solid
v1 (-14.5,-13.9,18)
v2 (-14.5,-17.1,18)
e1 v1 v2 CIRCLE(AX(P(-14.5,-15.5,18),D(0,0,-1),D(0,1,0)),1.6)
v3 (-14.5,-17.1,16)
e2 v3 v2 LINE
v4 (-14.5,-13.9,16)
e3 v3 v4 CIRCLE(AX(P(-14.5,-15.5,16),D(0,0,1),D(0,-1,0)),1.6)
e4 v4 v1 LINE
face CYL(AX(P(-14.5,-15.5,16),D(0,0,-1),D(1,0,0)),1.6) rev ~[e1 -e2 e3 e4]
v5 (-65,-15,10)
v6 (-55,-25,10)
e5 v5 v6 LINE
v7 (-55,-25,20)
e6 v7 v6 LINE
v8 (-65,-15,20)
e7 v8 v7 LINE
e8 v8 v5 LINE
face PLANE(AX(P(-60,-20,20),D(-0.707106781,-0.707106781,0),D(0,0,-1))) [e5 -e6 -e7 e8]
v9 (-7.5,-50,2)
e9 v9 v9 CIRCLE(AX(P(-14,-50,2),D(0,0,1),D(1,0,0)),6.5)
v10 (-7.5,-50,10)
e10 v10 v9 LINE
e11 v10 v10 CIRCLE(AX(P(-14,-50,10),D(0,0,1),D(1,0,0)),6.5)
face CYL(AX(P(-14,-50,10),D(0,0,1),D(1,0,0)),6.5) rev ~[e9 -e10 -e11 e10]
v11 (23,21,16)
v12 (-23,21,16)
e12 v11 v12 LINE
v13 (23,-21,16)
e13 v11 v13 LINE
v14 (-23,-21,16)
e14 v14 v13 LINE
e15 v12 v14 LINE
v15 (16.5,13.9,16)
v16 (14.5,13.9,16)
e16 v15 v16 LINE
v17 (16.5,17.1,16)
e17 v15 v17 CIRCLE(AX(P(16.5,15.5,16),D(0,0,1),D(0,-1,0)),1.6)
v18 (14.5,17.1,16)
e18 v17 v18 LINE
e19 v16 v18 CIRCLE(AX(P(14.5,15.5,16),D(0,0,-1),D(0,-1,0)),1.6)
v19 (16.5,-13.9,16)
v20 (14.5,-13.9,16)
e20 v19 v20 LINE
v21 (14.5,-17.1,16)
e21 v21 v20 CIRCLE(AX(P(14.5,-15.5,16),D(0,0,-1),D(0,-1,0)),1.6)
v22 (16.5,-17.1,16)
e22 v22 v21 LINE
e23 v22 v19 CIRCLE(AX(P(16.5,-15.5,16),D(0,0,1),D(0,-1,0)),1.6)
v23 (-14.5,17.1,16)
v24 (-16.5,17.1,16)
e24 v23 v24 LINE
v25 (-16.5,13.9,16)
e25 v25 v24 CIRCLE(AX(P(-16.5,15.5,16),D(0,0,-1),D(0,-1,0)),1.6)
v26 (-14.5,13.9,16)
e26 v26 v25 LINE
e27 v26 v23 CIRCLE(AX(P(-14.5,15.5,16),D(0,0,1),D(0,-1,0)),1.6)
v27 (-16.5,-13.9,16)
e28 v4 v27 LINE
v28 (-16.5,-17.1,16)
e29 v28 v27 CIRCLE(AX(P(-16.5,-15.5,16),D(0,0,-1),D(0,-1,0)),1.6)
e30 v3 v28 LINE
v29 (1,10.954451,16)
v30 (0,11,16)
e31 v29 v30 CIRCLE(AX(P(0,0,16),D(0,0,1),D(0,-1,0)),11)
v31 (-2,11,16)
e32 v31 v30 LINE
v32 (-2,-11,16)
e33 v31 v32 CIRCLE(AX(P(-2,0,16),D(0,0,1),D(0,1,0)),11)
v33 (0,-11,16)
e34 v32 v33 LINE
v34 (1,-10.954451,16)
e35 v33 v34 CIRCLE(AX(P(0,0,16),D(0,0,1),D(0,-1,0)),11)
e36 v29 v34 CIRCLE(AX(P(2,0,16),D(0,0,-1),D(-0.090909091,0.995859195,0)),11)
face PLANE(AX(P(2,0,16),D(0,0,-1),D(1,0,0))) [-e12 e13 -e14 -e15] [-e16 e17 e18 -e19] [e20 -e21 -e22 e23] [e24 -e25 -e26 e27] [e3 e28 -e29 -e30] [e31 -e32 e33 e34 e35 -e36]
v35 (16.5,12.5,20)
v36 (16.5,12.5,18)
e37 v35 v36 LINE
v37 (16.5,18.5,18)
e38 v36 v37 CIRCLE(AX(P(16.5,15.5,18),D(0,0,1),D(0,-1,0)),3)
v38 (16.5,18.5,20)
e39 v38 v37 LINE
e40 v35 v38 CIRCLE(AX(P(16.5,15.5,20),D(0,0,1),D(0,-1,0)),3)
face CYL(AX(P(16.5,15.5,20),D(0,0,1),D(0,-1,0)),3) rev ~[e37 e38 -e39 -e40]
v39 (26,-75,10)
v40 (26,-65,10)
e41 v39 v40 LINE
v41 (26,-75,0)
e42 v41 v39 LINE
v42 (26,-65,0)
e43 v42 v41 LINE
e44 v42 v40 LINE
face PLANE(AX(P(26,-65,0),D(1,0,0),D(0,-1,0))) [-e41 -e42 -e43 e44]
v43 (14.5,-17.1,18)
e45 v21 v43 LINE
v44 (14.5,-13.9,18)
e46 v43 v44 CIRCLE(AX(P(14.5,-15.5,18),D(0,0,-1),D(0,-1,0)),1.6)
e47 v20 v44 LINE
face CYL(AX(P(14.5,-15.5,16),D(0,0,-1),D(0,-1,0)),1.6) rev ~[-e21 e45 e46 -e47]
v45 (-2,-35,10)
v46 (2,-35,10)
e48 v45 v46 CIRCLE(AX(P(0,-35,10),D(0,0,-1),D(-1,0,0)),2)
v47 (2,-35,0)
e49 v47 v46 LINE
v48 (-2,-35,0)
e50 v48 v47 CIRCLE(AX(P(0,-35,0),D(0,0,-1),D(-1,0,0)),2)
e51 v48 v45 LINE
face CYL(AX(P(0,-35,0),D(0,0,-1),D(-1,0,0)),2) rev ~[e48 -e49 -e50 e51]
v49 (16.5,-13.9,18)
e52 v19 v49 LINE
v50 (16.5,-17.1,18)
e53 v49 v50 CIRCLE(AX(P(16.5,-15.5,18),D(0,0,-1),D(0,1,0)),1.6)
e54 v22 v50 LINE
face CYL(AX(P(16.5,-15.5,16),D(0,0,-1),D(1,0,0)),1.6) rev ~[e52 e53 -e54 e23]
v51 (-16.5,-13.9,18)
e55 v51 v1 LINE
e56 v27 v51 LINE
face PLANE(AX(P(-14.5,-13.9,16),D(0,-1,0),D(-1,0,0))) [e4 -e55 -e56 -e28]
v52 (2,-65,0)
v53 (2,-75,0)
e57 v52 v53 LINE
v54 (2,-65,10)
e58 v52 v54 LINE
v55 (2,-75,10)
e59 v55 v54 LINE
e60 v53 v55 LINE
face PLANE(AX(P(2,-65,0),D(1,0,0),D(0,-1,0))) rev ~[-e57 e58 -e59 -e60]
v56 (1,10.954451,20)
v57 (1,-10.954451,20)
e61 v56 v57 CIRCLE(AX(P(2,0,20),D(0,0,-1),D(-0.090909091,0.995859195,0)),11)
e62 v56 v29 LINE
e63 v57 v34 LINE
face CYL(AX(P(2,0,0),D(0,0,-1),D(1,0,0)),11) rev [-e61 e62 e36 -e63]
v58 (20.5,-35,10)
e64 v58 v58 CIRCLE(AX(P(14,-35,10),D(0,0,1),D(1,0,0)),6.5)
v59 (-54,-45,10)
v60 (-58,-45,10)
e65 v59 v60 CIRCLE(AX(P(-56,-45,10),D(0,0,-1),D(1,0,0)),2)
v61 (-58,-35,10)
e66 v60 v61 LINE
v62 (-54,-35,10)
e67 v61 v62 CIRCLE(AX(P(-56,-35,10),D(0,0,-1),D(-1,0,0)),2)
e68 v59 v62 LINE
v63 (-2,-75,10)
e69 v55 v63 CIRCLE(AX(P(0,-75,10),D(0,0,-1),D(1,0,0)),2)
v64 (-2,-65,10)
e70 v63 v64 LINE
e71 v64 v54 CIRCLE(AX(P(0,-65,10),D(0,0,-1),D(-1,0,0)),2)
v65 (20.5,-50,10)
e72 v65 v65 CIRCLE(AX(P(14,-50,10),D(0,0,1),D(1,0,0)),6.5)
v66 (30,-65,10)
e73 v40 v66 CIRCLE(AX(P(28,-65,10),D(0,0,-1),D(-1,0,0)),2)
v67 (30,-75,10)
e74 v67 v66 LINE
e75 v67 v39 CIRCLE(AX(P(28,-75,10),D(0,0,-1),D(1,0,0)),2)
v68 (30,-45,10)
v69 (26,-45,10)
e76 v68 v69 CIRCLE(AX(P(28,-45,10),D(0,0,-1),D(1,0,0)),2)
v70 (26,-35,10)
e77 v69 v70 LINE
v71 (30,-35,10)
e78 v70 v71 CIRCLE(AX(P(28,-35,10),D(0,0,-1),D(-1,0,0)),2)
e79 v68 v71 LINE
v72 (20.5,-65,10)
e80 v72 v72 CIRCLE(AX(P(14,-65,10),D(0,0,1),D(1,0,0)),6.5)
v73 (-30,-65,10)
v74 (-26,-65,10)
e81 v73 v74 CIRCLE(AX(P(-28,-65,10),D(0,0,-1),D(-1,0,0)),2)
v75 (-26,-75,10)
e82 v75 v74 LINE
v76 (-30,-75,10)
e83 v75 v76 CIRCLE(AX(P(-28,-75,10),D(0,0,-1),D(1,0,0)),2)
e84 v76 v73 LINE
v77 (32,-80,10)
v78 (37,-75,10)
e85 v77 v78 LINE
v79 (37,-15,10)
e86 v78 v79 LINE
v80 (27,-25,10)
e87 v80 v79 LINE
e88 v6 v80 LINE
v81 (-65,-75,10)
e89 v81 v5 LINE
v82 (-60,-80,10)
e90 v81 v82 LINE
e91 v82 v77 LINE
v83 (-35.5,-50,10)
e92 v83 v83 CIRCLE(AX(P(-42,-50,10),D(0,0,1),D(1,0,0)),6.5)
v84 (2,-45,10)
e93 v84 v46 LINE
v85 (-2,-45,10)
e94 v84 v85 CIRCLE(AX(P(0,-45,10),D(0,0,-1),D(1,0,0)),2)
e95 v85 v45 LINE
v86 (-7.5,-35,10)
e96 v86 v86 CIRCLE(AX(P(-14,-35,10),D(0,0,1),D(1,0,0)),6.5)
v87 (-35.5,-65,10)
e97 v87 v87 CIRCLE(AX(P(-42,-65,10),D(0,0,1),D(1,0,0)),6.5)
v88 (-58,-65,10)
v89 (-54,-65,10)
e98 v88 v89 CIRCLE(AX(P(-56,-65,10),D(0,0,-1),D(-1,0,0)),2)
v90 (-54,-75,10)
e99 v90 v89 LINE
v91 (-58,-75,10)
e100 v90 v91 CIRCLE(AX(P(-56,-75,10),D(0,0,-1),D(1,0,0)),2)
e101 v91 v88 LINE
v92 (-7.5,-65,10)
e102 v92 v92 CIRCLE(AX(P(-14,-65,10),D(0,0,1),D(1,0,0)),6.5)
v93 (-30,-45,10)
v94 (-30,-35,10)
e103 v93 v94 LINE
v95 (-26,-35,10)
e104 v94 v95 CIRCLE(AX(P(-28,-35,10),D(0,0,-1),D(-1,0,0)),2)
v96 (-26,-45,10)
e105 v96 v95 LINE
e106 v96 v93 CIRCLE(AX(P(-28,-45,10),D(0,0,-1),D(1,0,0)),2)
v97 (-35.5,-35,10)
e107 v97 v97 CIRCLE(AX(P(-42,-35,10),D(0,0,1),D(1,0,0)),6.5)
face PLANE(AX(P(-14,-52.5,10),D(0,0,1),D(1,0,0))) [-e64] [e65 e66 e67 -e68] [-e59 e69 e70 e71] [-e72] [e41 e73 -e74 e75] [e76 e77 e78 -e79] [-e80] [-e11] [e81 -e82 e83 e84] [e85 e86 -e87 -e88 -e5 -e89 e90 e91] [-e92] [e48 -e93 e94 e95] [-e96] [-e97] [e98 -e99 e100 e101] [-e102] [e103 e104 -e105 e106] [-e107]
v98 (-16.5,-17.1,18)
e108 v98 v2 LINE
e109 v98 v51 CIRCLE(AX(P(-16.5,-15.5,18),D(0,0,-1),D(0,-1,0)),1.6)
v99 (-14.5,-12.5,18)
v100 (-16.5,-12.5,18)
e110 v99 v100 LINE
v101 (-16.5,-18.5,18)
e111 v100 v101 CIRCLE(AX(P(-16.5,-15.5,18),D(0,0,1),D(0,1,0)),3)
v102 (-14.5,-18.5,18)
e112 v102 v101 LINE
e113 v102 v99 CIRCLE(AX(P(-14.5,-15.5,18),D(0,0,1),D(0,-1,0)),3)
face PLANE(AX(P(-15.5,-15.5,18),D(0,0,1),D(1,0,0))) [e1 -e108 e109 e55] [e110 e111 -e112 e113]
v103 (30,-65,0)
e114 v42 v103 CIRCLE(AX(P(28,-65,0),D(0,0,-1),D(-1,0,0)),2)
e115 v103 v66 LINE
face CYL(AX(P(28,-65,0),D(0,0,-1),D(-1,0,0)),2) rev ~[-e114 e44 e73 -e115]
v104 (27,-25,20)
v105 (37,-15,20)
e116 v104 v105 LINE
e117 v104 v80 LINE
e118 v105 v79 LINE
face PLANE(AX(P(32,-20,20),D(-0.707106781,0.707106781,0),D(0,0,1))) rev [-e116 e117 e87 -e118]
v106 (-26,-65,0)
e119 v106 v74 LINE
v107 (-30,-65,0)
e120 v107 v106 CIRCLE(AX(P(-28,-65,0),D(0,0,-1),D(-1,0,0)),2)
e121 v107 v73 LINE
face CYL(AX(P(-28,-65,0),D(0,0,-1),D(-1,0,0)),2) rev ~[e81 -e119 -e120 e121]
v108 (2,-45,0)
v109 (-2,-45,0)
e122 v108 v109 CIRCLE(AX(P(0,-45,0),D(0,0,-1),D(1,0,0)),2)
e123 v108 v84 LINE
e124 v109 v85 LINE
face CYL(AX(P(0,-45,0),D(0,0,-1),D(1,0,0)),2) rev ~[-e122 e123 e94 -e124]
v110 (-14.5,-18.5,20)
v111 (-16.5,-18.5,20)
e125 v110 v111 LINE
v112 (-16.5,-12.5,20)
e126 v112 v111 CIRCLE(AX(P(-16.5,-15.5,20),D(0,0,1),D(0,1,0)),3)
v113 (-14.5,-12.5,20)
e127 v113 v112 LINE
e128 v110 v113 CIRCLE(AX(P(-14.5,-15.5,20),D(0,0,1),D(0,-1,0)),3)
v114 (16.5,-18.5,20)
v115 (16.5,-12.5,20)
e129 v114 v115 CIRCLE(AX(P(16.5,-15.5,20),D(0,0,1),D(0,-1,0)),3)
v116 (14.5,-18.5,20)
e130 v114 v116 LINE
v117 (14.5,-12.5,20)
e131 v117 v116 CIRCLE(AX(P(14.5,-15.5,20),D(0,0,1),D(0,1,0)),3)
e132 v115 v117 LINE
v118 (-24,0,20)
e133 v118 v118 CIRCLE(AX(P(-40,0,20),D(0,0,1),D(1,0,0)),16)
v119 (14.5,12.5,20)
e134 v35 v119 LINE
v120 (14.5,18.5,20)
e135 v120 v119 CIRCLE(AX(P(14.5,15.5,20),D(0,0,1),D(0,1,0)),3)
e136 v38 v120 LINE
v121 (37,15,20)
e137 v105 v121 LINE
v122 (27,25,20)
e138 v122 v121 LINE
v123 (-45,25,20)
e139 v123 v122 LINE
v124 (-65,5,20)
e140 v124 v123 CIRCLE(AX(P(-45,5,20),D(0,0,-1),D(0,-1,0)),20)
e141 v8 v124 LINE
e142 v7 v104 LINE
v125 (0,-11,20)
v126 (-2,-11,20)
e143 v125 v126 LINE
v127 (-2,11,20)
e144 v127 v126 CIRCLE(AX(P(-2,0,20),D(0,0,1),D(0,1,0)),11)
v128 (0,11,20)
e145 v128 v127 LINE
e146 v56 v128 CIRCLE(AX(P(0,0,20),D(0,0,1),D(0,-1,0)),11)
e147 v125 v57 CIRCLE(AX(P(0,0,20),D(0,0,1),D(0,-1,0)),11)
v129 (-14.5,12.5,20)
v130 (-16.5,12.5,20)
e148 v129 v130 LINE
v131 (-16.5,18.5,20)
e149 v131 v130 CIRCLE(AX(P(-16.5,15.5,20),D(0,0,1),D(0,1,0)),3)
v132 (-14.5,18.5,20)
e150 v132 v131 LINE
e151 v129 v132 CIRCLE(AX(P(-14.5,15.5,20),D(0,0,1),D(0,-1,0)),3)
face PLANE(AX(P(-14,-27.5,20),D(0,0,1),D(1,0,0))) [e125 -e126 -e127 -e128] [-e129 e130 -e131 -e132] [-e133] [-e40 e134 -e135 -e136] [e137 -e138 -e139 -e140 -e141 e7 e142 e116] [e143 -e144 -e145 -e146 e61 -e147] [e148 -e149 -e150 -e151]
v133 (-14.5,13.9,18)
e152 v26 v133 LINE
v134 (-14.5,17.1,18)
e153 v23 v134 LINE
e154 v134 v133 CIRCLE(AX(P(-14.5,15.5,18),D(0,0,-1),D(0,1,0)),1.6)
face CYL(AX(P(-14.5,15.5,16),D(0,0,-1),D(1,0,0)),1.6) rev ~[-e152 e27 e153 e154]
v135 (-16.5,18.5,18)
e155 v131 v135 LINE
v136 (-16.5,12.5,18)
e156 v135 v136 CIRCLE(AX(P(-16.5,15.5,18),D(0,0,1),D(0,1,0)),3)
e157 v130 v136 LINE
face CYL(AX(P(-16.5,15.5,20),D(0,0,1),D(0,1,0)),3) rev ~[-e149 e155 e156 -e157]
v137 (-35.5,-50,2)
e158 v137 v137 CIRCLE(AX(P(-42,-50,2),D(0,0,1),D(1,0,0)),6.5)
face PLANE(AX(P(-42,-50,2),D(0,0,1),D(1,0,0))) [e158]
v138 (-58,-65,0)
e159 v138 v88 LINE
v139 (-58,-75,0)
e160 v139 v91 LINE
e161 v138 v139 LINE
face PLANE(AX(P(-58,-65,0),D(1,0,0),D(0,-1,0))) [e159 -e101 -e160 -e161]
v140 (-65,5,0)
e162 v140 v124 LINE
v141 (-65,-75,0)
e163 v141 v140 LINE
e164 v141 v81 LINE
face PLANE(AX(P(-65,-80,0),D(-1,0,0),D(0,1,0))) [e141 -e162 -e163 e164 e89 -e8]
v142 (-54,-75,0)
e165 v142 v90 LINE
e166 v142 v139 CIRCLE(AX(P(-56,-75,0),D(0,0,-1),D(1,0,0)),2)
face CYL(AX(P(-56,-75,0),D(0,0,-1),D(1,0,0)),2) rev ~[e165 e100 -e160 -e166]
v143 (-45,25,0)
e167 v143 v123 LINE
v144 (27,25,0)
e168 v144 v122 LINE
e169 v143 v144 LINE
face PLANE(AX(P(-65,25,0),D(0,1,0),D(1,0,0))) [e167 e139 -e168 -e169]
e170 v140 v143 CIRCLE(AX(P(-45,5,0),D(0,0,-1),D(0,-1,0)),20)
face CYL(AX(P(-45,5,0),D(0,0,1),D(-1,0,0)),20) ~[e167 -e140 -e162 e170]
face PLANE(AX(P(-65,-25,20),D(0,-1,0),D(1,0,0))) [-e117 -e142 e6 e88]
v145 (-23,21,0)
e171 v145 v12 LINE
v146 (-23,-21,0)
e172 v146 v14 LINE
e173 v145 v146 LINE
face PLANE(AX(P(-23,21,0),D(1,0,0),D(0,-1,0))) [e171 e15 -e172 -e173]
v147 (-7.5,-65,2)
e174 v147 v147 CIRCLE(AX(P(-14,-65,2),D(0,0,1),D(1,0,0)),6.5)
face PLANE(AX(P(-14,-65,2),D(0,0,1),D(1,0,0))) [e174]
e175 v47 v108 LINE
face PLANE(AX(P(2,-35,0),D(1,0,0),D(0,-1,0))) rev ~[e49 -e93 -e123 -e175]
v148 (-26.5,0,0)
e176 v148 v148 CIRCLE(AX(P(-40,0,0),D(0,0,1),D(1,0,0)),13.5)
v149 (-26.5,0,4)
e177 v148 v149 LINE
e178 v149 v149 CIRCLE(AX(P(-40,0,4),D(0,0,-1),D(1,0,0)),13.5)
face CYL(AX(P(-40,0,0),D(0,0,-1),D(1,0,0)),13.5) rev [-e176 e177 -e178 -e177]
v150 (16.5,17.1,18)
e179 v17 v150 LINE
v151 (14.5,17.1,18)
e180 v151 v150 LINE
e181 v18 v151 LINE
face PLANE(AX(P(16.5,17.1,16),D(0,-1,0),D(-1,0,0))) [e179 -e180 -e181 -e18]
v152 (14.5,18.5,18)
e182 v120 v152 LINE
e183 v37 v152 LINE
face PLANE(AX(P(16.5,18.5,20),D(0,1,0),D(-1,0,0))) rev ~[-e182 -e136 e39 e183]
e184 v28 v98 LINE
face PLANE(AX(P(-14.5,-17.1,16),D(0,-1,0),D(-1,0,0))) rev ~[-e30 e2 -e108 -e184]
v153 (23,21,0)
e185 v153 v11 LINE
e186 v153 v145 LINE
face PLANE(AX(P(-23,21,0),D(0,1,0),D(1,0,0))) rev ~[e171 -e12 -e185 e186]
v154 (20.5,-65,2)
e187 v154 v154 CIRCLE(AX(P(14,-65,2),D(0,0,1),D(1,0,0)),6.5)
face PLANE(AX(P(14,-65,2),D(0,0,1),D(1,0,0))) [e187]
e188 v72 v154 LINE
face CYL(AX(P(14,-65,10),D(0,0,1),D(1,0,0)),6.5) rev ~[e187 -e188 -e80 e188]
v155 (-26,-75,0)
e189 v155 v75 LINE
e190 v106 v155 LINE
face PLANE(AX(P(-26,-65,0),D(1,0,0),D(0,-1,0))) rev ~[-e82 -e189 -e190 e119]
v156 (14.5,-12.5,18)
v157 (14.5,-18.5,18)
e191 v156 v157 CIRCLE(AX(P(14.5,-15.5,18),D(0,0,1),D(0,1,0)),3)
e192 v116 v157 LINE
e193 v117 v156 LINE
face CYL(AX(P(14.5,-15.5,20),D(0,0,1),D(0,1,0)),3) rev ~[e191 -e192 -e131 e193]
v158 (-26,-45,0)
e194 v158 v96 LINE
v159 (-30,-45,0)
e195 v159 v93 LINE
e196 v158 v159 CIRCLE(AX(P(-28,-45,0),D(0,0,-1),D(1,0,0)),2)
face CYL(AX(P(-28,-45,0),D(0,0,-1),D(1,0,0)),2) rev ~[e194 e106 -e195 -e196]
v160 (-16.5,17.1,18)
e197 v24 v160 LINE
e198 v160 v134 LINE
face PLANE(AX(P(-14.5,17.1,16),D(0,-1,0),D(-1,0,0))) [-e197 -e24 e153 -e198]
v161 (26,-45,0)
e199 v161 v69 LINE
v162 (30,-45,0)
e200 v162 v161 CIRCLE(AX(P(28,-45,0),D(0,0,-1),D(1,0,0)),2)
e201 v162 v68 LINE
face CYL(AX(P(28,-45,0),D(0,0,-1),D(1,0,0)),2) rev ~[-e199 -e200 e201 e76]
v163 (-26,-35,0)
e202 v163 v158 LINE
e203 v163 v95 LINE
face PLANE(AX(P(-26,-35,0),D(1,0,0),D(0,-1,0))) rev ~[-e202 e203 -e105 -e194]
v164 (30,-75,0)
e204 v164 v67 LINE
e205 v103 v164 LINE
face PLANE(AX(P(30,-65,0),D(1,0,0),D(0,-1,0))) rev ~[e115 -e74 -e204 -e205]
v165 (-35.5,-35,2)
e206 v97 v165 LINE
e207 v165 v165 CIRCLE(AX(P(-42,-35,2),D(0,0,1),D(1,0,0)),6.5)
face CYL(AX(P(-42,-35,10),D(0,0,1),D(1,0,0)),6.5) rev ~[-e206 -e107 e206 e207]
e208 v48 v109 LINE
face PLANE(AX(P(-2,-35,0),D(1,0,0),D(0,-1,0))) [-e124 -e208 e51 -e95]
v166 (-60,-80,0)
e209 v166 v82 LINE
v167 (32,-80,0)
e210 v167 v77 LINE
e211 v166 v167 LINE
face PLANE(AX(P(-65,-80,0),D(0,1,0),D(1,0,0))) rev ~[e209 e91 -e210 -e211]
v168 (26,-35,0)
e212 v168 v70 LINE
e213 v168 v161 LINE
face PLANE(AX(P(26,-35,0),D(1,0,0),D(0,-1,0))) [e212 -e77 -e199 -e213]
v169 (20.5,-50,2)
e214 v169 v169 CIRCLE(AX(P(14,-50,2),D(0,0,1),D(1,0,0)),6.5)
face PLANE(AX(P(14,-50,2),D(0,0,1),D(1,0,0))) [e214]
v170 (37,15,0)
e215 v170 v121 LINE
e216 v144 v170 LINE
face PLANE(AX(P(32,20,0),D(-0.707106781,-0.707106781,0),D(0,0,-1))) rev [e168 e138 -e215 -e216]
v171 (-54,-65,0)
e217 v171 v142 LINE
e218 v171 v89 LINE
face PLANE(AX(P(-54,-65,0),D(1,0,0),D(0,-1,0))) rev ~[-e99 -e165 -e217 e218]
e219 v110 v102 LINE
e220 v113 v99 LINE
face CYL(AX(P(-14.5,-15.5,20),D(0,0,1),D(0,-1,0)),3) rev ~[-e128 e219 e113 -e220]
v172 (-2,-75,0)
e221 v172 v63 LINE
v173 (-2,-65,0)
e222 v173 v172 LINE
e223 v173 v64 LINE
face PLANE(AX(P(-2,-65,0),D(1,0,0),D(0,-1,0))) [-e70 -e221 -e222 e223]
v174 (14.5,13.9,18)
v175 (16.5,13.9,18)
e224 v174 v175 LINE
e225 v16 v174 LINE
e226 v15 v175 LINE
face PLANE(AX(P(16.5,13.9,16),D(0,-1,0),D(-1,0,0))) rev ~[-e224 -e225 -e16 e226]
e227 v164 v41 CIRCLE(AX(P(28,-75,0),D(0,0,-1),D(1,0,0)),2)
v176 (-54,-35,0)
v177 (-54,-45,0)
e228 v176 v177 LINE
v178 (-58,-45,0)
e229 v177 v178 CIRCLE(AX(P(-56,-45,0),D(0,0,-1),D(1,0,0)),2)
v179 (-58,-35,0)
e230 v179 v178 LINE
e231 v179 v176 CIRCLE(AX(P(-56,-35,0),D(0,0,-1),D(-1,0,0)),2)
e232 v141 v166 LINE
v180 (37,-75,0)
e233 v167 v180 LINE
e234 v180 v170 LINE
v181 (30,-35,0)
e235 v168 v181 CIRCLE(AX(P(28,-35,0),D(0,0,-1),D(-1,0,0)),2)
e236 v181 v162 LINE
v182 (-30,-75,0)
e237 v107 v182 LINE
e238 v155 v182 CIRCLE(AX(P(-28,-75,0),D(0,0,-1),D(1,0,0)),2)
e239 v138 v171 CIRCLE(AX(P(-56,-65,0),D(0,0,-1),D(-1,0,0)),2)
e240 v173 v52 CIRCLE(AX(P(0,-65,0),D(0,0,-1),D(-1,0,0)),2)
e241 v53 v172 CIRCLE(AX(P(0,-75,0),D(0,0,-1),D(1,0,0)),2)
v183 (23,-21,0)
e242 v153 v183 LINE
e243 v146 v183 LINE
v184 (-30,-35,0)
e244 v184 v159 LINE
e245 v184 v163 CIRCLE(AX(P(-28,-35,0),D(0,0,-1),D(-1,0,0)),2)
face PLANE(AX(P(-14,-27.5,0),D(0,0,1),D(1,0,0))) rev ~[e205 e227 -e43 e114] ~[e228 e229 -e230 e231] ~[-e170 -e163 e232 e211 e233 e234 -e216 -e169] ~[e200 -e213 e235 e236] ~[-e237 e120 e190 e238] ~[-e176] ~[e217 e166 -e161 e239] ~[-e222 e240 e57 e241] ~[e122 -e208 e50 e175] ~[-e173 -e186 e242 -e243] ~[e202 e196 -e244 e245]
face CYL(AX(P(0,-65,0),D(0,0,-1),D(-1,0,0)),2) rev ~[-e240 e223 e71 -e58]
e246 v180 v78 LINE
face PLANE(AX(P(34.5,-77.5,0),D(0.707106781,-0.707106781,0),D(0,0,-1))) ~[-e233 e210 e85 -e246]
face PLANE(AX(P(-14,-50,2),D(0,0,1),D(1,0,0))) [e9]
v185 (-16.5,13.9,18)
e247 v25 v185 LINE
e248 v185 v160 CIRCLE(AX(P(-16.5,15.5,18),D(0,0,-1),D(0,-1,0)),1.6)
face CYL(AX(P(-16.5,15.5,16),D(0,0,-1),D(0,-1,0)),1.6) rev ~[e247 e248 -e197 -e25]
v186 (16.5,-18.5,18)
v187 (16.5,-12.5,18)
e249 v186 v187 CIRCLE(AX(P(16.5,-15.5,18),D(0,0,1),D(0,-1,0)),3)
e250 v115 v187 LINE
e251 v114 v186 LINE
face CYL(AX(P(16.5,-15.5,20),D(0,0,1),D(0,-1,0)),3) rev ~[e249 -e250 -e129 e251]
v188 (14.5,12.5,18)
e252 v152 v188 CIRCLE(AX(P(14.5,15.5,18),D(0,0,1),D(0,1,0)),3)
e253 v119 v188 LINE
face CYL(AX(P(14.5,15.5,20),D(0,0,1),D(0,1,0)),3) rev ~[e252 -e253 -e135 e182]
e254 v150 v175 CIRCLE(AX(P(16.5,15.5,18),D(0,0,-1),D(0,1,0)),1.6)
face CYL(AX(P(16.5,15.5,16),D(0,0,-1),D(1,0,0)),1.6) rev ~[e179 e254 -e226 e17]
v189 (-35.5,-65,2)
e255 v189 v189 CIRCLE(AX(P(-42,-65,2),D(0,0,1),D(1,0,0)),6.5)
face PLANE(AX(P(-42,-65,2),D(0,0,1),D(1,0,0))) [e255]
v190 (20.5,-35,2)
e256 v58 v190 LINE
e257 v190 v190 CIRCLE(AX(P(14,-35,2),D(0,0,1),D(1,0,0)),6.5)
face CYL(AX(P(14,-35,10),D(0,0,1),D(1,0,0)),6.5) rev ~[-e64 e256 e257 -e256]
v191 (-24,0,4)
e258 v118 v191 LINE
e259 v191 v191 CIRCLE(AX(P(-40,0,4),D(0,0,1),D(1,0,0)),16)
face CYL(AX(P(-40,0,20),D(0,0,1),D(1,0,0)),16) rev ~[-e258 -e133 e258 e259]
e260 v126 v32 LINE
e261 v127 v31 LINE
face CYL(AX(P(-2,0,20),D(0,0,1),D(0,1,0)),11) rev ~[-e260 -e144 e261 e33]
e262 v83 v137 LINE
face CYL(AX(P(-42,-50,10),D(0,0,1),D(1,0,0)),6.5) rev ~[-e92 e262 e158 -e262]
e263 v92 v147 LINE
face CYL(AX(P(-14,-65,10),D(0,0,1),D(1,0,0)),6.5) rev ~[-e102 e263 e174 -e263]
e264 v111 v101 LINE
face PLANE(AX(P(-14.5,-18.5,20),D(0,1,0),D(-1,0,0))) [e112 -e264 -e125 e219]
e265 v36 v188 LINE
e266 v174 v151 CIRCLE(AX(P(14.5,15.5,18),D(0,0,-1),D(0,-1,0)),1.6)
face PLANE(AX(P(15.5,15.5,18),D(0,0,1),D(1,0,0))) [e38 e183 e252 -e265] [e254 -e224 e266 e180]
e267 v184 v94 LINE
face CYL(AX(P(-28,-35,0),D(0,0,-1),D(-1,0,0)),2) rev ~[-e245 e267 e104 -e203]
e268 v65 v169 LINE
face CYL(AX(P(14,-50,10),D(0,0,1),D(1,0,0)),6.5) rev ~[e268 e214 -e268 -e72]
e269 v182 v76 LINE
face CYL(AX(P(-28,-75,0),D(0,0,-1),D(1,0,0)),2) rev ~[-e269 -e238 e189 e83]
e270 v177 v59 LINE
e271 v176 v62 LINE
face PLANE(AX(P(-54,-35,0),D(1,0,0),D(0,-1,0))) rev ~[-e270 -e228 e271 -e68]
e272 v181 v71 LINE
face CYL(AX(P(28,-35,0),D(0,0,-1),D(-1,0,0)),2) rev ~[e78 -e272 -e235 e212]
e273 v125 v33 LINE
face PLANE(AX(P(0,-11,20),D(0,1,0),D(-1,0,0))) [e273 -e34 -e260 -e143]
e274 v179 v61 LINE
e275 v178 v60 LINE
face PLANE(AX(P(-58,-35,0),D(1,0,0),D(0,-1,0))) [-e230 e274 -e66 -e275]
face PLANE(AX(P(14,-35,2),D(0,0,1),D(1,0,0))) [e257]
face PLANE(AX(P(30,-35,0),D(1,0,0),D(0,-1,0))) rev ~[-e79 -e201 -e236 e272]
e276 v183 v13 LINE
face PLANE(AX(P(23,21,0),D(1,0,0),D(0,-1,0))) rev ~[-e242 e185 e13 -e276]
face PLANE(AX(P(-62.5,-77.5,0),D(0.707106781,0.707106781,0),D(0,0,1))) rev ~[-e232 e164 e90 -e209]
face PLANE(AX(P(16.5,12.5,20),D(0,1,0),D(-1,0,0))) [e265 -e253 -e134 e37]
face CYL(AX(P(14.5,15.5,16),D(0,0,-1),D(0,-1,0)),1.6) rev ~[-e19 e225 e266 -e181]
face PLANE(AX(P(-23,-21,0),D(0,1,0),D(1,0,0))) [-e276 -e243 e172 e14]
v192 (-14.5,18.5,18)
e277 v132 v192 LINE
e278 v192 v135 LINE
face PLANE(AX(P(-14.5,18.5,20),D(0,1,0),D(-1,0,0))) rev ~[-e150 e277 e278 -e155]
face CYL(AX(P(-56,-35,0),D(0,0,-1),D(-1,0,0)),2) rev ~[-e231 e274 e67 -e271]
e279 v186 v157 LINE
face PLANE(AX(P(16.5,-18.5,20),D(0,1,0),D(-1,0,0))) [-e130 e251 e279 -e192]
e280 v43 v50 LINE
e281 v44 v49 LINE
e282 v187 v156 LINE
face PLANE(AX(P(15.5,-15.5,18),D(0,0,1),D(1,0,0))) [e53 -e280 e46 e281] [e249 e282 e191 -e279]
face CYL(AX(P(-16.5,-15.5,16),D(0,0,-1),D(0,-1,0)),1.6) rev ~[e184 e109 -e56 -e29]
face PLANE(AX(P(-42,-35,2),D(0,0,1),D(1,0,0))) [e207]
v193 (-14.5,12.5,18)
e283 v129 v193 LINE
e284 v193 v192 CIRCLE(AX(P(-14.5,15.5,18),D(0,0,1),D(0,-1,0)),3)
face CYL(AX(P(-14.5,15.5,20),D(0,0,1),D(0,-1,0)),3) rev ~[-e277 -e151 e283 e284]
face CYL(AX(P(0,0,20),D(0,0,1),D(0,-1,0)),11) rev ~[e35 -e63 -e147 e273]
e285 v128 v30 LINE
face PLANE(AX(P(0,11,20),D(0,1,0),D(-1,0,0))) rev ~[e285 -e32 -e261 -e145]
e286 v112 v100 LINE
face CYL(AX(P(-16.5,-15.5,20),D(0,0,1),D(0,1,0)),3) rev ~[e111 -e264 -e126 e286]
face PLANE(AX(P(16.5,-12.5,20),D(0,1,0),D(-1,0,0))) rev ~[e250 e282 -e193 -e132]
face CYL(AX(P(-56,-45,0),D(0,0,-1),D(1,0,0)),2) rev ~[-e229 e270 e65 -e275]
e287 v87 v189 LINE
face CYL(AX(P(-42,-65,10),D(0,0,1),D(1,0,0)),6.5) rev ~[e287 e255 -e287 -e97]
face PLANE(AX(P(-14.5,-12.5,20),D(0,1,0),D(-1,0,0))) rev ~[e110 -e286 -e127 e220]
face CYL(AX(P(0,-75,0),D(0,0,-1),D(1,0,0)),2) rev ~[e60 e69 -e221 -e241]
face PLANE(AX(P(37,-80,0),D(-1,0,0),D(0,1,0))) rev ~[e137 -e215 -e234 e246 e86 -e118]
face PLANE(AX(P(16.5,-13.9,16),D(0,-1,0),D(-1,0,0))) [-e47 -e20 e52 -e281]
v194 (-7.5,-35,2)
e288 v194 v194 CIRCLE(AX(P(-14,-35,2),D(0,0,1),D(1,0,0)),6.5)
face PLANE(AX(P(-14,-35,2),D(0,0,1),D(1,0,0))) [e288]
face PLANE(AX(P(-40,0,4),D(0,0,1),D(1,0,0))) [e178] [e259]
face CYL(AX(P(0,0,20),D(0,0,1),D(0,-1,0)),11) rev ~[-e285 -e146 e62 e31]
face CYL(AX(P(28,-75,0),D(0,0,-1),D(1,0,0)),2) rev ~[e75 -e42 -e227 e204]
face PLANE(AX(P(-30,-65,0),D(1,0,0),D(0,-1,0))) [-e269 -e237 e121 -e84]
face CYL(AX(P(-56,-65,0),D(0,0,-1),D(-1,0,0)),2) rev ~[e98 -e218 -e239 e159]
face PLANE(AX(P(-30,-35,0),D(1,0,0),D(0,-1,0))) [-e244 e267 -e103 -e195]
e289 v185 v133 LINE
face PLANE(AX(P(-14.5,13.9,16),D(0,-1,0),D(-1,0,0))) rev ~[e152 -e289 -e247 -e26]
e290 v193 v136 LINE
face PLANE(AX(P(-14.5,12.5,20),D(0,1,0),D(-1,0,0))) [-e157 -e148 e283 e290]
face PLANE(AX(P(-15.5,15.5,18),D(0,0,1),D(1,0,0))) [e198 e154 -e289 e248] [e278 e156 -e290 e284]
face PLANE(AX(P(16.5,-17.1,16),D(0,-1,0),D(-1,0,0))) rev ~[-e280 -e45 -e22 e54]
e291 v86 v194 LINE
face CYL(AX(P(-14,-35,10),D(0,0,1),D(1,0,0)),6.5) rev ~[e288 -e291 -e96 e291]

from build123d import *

# Parameters (mm, degrees)
SKETCH_W                           = 102
SKETCH_H                           = 105
SKETCH_R                           = 11
SKETCH_R_2                         = 13.5
PAD_DEPTH                          = 20
SKETCH001_W                        = 102
SKETCH001_H                        = 55
POCKET_DEPTH                       = 10
SKETCH002_W                        = 42
SKETCH002_H                        = 42
POCKET001_DEPTH                    = 16
POCKET002_DEPTH                    = 315.493809
POCKET002_LINEARPATTERN_2_DEPTH    = 315.493809
POCKET002_LINEARPATTERN_3_DEPTH    = 315.493809
POCKET002_LINEARPATTERN_4_DEPTH    = 315.493809
LINEARPATTERN001_COUNT             = 2
LINEARPATTERN001_PITCH             = 30
SKETCH004_R                        = 1.6
POCKET003_DEPTH                    = 4.001
CHAMFER_SIZE                       = 5
CHAMFER001_SIZE                    = 10
FILLET_R                           = 20
SKETCH006_R                        = 16
POCKET004_DEPTH                    = 16
SKETCH007_R                        = 3
POCKET005_DEPTH                    = 2
POCKET006_DEPTH                    = 4.001
SKETCH009_W                        = 4
SKETCH009_H                        = 42
POCKET007_DEPTH                    = 16
POCKET008_DEPTH                    = 2
POCKET009_DEPTH                    = 20.001
SKETCH012_R                        = 6.5
POCKET010_DEPTH                    = 8
SKETCH012_LINEARPATTERN002_2_R     = 6.5
POCKET010_LINEARPATTERN002_2_DEPTH = 8
SKETCH012_LINEARPATTERN002_3_R     = 6.5
POCKET010_LINEARPATTERN002_3_DEPTH = 8
LINEARPATTERN003_COUNT             = 3
LINEARPATTERN003_PITCH             = 15


with BuildPart() as part:
    # Sketch → Pad (new body)
    with BuildSketch(Plane.XY):
        with Locations((-14, -27.5)):
            Rectangle(SKETCH_W, SKETCH_H)
        with Locations((2, 0)):
            Circle(SKETCH_R, mode=Mode.SUBTRACT)
        with Locations((-40, 0)):
            Circle(SKETCH_R_2, mode=Mode.SUBTRACT)
    extrude(amount=PAD_DEPTH)

    # Sketch001 (on Face8 of Pad) → Pocket (cut)
    with BuildSketch(Plane.XY.offset(20)):
        with Locations((-14, -52.5)):
            Rectangle(SKETCH001_W, SKETCH001_H)
    extrude(amount=-POCKET_DEPTH, mode=Mode.SUBTRACT)

    # Sketch002 (on Face2 of Pocket) → Pocket001 (cut)
    with BuildSketch(Plane(origin=(0, 0, 0), x_dir=(1, 0, 0), z_dir=(0, 0, -1))):
        with Locations((2, 0)):
            Rectangle(SKETCH002_W, SKETCH002_H)
    extrude(amount=-POCKET001_DEPTH, mode=Mode.SUBTRACT)

    # Sketch003 (on Face2 of Pocket001) → Pocket002 (cut, through all)
    with BuildSketch(Plane(origin=(0, 0, 0), x_dir=(1, 0, 0), z_dir=(0, 0, -1))):
        with BuildLine():
            ThreePointArc((26, 35), (28, 33), (30, 35))
            Line((30, 35), (30, 45))
            ThreePointArc((30, 45), (28, 47), (26, 45))
            Line((26, 35), (26, 45))
        make_face()
    pocket002 = extrude(amount=-POCKET002_DEPTH, mode=Mode.SUBTRACT)

    # Sketch003 LinearPattern 2 → Pocket002 LinearPattern 2 (cut, through all)
    with BuildSketch(Plane(origin=(-28, 0, 0), x_dir=(1, 0, 0), z_dir=(0, 0, -1))):
        with BuildLine():
            ThreePointArc((26, 35), (28, 33), (30, 35))
            Line((30, 35), (30, 45))
            ThreePointArc((30, 45), (28, 47), (26, 45))
            Line((26, 35), (26, 45))
        make_face()
    pocket002_linearpattern_2 = extrude(amount=-POCKET002_LINEARPATTERN_2_DEPTH, mode=Mode.SUBTRACT)

    # Sketch003 LinearPattern 3 → Pocket002 LinearPattern 3 (cut, through all)
    with BuildSketch(Plane(origin=(-56, 0, 0), x_dir=(1, 0, 0), z_dir=(0, 0, -1))):
        with BuildLine():
            ThreePointArc((26, 35), (28, 33), (30, 35))
            Line((30, 35), (30, 45))
            ThreePointArc((30, 45), (28, 47), (26, 45))
            Line((26, 35), (26, 45))
        make_face()
    pocket002_linearpattern_3 = extrude(amount=-POCKET002_LINEARPATTERN_3_DEPTH, mode=Mode.SUBTRACT)

    # Sketch003 LinearPattern 4 → Pocket002 LinearPattern 4 (cut, through all)
    with BuildSketch(Plane(origin=(-84, 0, 0), x_dir=(1, 0, 0), z_dir=(0, 0, -1))):
        with BuildLine():
            ThreePointArc((26, 35), (28, 33), (30, 35))
            Line((30, 35), (30, 45))
            ThreePointArc((30, 45), (28, 47), (26, 45))
            Line((26, 35), (26, 45))
        make_face()
    pocket002_linearpattern_4 = extrude(amount=-POCKET002_LINEARPATTERN_4_DEPTH, mode=Mode.SUBTRACT)

    # LinearPattern001: Pocket002, Pocket002 LinearPattern 2, Pocket002 LinearPattern 3, Pocket002 LinearPattern 4 ×2
    with Locations(*[(0, -i * LINEARPATTERN001_PITCH, 0) for i in range(1, LINEARPATTERN001_COUNT)]):
        add(pocket002, mode=Mode.SUBTRACT)
        add(pocket002_linearpattern_2, mode=Mode.SUBTRACT)
        add(pocket002_linearpattern_3, mode=Mode.SUBTRACT)
        add(pocket002_linearpattern_4, mode=Mode.SUBTRACT)

    # Sketch004 (on Face46 of MultiTransform) → Pocket003 (cut, through all)
    with BuildSketch(Plane(origin=(0, 0, 16), x_dir=(1, 0, 0), z_dir=(0, 0, -1))):
        with Locations((16.5, 15.5)):
            Circle(SKETCH004_R)
        with Locations((16.5, -15.5)):
            Circle(SKETCH004_R)
        with Locations((-14.5, -15.5)):
            Circle(SKETCH004_R)
        with Locations((-14.5, 15.5)):
            Circle(SKETCH004_R)
    extrude(amount=-POCKET003_DEPTH, mode=Mode.SUBTRACT)

    # Chamfer
    chamfer_edges = [part.edges().sort_by_distance(p)[0] for p in [
        (-65, -80, 5),
        (37, -80, 5),
    ]]
    chamfer(chamfer_edges, length=CHAMFER_SIZE)

    # Chamfer001
    chamfer001_edges = [part.edges().sort_by_distance(p)[0] for p in [
        (37, -25, 15),
        (37, 25, 10),
        (-65, -25, 15),
    ]]
    chamfer(chamfer001_edges, length=CHAMFER001_SIZE)

    # Fillet
    fillet_edges = [part.edges().sort_by_distance(p)[0] for p in [
        (-65, 25, 10),
    ]]
    fillet(fillet_edges, radius=FILLET_R)

    # Sketch006 (on Face47 of Fillet) → Pocket004 (cut)
    with BuildSketch(Plane.XY.offset(20)):
        with Locations((-40, 0)):
            Circle(SKETCH006_R)
    extrude(amount=-POCKET004_DEPTH, mode=Mode.SUBTRACT)

    # Sketch007 (on Face47 of Pocket004) → Pocket005 (cut)
    with BuildSketch(Plane.XY.offset(20)):
        with Locations((16.5, 15.5)):
            Circle(SKETCH007_R)
        with Locations((-14.5, 15.5)):
            Circle(SKETCH007_R)
        with Locations((-14.5, -15.5)):
            Circle(SKETCH007_R)
        with Locations((16.5, -15.5)):
            Circle(SKETCH007_R)
    extrude(amount=-POCKET005_DEPTH, mode=Mode.SUBTRACT)

    # Sketch008 (on Face52 of Pocket005) → Pocket006 (cut, through all)
    with BuildSketch(Plane(origin=(0, 0, 16), x_dir=(1, 0, 0), z_dir=(0, 0, -1))):
        with BuildLine():
            ThreePointArc((-14.5, -17.1), (-12.9, -15.5), (-14.5, -13.9))
            Line((-14.5, -13.9), (-16.5, -13.9))
            ThreePointArc((-16.5, -13.9), (-18.1, -15.5), (-16.5, -17.1))
            Line((-14.5, -17.1), (-16.5, -17.1))
        make_face()
        with BuildLine():
            ThreePointArc((-14.5, 13.9), (-12.9, 15.5), (-14.5, 17.1))
            Line((-14.5, 17.1), (-16.5, 17.1))
            ThreePointArc((-16.5, 17.1), (-18.1, 15.5), (-16.5, 13.9))
            Line((-14.5, 13.9), (-16.5, 13.9))
        make_face()
        with BuildLine():
            ThreePointArc((16.5, 13.9), (18.1, 15.5), (16.5, 17.1))
            Line((16.5, 17.1), (14.5, 17.1))
            ThreePointArc((14.5, 17.1), (12.9, 15.5), (14.5, 13.9))
            Line((16.5, 13.9), (14.5, 13.9))
        make_face()
        with BuildLine():
            ThreePointArc((16.5, -17.1), (18.1, -15.5), (16.5, -13.9))
            Line((16.5, -13.9), (14.5, -13.9))
            ThreePointArc((14.5, -13.9), (12.9, -15.5), (14.5, -17.1))
            Line((16.5, -17.1), (14.5, -17.1))
        make_face()
    extrude(amount=-POCKET006_DEPTH, mode=Mode.SUBTRACT)

    # Sketch009 (on Face1 of Pocket006) → Pocket007 (cut)
    with BuildSketch(Plane(origin=(0, 0, 0), x_dir=(1, 0, 0), z_dir=(0, 0, -1))):
        with Locations((-21, 0)):
            Rectangle(SKETCH009_W, SKETCH009_H)
    extrude(amount=-POCKET007_DEPTH, mode=Mode.SUBTRACT)

    # Sketch010 (on Face49 of Pocket007) → Pocket008 (cut)
    with BuildSketch(Plane.XY.offset(20)):
        with BuildLine():
            ThreePointArc((-14.5, 12.5), (-11.5, 15.5), (-14.5, 18.5))
            Line((-14.5, 18.5), (-16.5, 18.5))
            ThreePointArc((-16.5, 18.5), (-19.5, 15.5), (-16.5, 12.5))
            Line((-14.5, 12.5), (-16.5, 12.5))
        make_face()
        with BuildLine():
            ThreePointArc((16.5, 12.5), (19.5, 15.5), (16.5, 18.5))
            Line((16.5, 18.5), (14.5, 18.5))
            ThreePointArc((14.5, 18.5), (11.5, 15.5), (14.5, 12.5))
            Line((16.5, 12.5), (14.5, 12.5))
        make_face()
        with BuildLine():
            ThreePointArc((16.5, -18.5), (19.5, -15.5), (16.5, -12.5))
            Line((16.5, -12.5), (14.5, -12.5))
            ThreePointArc((14.5, -12.5), (11.5, -15.5), (14.5, -18.5))
            Line((16.5, -18.5), (14.5, -18.5))
        make_face()
        with BuildLine():
            ThreePointArc((-14.5, -18.5), (-11.5, -15.5), (-14.5, -12.5))
            Line((-14.5, -12.5), (-16.5, -12.5))
            ThreePointArc((-16.5, -12.5), (-19.5, -15.5), (-16.5, -18.5))
            Line((-14.5, -18.5), (-16.5, -18.5))
        make_face()
    extrude(amount=-POCKET008_DEPTH, mode=Mode.SUBTRACT)

    # Sketch011 (on Face49 of Pocket008) → Pocket009 (cut, through all)
    with BuildSketch(Plane.XY.offset(20)):
        with BuildLine():
            ThreePointArc((0, -11), (11, 0), (0, 11))
            Line((0, 11), (-2, 11))
            ThreePointArc((-2, 11), (-13, 0), (-2, -11))
            Line((0, -11), (-2, -11))
        make_face()
    extrude(amount=-POCKET009_DEPTH, mode=Mode.SUBTRACT)

    # Sketch012 (on Face51 of Pocket009) → Pocket010 (cut)
    with BuildSketch(Plane.XY.offset(10)):
        with Locations((14, -65)):
            Circle(SKETCH012_R)
    pocket010 = extrude(amount=-POCKET010_DEPTH, mode=Mode.SUBTRACT)

    # Sketch012 LinearPattern002 2 → Pocket010 LinearPattern002 2 (cut)
    with BuildSketch(Plane(origin=(-28, 0, 10), x_dir=(1, 0, 0), z_dir=(0, 0, 1))):
        with Locations((14, -65)):
            Circle(SKETCH012_LINEARPATTERN002_2_R)
    pocket010_linearpattern002_2 = extrude(amount=-POCKET010_LINEARPATTERN002_2_DEPTH, mode=Mode.SUBTRACT)

    # Sketch012 LinearPattern002 3 → Pocket010 LinearPattern002 3 (cut)
    with BuildSketch(Plane(origin=(-56, 0, 10), x_dir=(1, 0, 0), z_dir=(0, 0, 1))):
        with Locations((14, -65)):
            Circle(SKETCH012_LINEARPATTERN002_3_R)
    pocket010_linearpattern002_3 = extrude(amount=-POCKET010_LINEARPATTERN002_3_DEPTH, mode=Mode.SUBTRACT)

    # LinearPattern003: Pocket010, Pocket010 LinearPattern002 2, Pocket010 LinearPattern002 3 ×3
    with Locations(*[(0, i * LINEARPATTERN003_PITCH, 0) for i in range(1, LINEARPATTERN003_COUNT)]):
        add(pocket010, mode=Mode.SUBTRACT)
        add(pocket010_linearpattern002_2, mode=Mode.SUBTRACT)
        add(pocket010_linearpattern002_3, mode=Mode.SUBTRACT)


solid = part.part
